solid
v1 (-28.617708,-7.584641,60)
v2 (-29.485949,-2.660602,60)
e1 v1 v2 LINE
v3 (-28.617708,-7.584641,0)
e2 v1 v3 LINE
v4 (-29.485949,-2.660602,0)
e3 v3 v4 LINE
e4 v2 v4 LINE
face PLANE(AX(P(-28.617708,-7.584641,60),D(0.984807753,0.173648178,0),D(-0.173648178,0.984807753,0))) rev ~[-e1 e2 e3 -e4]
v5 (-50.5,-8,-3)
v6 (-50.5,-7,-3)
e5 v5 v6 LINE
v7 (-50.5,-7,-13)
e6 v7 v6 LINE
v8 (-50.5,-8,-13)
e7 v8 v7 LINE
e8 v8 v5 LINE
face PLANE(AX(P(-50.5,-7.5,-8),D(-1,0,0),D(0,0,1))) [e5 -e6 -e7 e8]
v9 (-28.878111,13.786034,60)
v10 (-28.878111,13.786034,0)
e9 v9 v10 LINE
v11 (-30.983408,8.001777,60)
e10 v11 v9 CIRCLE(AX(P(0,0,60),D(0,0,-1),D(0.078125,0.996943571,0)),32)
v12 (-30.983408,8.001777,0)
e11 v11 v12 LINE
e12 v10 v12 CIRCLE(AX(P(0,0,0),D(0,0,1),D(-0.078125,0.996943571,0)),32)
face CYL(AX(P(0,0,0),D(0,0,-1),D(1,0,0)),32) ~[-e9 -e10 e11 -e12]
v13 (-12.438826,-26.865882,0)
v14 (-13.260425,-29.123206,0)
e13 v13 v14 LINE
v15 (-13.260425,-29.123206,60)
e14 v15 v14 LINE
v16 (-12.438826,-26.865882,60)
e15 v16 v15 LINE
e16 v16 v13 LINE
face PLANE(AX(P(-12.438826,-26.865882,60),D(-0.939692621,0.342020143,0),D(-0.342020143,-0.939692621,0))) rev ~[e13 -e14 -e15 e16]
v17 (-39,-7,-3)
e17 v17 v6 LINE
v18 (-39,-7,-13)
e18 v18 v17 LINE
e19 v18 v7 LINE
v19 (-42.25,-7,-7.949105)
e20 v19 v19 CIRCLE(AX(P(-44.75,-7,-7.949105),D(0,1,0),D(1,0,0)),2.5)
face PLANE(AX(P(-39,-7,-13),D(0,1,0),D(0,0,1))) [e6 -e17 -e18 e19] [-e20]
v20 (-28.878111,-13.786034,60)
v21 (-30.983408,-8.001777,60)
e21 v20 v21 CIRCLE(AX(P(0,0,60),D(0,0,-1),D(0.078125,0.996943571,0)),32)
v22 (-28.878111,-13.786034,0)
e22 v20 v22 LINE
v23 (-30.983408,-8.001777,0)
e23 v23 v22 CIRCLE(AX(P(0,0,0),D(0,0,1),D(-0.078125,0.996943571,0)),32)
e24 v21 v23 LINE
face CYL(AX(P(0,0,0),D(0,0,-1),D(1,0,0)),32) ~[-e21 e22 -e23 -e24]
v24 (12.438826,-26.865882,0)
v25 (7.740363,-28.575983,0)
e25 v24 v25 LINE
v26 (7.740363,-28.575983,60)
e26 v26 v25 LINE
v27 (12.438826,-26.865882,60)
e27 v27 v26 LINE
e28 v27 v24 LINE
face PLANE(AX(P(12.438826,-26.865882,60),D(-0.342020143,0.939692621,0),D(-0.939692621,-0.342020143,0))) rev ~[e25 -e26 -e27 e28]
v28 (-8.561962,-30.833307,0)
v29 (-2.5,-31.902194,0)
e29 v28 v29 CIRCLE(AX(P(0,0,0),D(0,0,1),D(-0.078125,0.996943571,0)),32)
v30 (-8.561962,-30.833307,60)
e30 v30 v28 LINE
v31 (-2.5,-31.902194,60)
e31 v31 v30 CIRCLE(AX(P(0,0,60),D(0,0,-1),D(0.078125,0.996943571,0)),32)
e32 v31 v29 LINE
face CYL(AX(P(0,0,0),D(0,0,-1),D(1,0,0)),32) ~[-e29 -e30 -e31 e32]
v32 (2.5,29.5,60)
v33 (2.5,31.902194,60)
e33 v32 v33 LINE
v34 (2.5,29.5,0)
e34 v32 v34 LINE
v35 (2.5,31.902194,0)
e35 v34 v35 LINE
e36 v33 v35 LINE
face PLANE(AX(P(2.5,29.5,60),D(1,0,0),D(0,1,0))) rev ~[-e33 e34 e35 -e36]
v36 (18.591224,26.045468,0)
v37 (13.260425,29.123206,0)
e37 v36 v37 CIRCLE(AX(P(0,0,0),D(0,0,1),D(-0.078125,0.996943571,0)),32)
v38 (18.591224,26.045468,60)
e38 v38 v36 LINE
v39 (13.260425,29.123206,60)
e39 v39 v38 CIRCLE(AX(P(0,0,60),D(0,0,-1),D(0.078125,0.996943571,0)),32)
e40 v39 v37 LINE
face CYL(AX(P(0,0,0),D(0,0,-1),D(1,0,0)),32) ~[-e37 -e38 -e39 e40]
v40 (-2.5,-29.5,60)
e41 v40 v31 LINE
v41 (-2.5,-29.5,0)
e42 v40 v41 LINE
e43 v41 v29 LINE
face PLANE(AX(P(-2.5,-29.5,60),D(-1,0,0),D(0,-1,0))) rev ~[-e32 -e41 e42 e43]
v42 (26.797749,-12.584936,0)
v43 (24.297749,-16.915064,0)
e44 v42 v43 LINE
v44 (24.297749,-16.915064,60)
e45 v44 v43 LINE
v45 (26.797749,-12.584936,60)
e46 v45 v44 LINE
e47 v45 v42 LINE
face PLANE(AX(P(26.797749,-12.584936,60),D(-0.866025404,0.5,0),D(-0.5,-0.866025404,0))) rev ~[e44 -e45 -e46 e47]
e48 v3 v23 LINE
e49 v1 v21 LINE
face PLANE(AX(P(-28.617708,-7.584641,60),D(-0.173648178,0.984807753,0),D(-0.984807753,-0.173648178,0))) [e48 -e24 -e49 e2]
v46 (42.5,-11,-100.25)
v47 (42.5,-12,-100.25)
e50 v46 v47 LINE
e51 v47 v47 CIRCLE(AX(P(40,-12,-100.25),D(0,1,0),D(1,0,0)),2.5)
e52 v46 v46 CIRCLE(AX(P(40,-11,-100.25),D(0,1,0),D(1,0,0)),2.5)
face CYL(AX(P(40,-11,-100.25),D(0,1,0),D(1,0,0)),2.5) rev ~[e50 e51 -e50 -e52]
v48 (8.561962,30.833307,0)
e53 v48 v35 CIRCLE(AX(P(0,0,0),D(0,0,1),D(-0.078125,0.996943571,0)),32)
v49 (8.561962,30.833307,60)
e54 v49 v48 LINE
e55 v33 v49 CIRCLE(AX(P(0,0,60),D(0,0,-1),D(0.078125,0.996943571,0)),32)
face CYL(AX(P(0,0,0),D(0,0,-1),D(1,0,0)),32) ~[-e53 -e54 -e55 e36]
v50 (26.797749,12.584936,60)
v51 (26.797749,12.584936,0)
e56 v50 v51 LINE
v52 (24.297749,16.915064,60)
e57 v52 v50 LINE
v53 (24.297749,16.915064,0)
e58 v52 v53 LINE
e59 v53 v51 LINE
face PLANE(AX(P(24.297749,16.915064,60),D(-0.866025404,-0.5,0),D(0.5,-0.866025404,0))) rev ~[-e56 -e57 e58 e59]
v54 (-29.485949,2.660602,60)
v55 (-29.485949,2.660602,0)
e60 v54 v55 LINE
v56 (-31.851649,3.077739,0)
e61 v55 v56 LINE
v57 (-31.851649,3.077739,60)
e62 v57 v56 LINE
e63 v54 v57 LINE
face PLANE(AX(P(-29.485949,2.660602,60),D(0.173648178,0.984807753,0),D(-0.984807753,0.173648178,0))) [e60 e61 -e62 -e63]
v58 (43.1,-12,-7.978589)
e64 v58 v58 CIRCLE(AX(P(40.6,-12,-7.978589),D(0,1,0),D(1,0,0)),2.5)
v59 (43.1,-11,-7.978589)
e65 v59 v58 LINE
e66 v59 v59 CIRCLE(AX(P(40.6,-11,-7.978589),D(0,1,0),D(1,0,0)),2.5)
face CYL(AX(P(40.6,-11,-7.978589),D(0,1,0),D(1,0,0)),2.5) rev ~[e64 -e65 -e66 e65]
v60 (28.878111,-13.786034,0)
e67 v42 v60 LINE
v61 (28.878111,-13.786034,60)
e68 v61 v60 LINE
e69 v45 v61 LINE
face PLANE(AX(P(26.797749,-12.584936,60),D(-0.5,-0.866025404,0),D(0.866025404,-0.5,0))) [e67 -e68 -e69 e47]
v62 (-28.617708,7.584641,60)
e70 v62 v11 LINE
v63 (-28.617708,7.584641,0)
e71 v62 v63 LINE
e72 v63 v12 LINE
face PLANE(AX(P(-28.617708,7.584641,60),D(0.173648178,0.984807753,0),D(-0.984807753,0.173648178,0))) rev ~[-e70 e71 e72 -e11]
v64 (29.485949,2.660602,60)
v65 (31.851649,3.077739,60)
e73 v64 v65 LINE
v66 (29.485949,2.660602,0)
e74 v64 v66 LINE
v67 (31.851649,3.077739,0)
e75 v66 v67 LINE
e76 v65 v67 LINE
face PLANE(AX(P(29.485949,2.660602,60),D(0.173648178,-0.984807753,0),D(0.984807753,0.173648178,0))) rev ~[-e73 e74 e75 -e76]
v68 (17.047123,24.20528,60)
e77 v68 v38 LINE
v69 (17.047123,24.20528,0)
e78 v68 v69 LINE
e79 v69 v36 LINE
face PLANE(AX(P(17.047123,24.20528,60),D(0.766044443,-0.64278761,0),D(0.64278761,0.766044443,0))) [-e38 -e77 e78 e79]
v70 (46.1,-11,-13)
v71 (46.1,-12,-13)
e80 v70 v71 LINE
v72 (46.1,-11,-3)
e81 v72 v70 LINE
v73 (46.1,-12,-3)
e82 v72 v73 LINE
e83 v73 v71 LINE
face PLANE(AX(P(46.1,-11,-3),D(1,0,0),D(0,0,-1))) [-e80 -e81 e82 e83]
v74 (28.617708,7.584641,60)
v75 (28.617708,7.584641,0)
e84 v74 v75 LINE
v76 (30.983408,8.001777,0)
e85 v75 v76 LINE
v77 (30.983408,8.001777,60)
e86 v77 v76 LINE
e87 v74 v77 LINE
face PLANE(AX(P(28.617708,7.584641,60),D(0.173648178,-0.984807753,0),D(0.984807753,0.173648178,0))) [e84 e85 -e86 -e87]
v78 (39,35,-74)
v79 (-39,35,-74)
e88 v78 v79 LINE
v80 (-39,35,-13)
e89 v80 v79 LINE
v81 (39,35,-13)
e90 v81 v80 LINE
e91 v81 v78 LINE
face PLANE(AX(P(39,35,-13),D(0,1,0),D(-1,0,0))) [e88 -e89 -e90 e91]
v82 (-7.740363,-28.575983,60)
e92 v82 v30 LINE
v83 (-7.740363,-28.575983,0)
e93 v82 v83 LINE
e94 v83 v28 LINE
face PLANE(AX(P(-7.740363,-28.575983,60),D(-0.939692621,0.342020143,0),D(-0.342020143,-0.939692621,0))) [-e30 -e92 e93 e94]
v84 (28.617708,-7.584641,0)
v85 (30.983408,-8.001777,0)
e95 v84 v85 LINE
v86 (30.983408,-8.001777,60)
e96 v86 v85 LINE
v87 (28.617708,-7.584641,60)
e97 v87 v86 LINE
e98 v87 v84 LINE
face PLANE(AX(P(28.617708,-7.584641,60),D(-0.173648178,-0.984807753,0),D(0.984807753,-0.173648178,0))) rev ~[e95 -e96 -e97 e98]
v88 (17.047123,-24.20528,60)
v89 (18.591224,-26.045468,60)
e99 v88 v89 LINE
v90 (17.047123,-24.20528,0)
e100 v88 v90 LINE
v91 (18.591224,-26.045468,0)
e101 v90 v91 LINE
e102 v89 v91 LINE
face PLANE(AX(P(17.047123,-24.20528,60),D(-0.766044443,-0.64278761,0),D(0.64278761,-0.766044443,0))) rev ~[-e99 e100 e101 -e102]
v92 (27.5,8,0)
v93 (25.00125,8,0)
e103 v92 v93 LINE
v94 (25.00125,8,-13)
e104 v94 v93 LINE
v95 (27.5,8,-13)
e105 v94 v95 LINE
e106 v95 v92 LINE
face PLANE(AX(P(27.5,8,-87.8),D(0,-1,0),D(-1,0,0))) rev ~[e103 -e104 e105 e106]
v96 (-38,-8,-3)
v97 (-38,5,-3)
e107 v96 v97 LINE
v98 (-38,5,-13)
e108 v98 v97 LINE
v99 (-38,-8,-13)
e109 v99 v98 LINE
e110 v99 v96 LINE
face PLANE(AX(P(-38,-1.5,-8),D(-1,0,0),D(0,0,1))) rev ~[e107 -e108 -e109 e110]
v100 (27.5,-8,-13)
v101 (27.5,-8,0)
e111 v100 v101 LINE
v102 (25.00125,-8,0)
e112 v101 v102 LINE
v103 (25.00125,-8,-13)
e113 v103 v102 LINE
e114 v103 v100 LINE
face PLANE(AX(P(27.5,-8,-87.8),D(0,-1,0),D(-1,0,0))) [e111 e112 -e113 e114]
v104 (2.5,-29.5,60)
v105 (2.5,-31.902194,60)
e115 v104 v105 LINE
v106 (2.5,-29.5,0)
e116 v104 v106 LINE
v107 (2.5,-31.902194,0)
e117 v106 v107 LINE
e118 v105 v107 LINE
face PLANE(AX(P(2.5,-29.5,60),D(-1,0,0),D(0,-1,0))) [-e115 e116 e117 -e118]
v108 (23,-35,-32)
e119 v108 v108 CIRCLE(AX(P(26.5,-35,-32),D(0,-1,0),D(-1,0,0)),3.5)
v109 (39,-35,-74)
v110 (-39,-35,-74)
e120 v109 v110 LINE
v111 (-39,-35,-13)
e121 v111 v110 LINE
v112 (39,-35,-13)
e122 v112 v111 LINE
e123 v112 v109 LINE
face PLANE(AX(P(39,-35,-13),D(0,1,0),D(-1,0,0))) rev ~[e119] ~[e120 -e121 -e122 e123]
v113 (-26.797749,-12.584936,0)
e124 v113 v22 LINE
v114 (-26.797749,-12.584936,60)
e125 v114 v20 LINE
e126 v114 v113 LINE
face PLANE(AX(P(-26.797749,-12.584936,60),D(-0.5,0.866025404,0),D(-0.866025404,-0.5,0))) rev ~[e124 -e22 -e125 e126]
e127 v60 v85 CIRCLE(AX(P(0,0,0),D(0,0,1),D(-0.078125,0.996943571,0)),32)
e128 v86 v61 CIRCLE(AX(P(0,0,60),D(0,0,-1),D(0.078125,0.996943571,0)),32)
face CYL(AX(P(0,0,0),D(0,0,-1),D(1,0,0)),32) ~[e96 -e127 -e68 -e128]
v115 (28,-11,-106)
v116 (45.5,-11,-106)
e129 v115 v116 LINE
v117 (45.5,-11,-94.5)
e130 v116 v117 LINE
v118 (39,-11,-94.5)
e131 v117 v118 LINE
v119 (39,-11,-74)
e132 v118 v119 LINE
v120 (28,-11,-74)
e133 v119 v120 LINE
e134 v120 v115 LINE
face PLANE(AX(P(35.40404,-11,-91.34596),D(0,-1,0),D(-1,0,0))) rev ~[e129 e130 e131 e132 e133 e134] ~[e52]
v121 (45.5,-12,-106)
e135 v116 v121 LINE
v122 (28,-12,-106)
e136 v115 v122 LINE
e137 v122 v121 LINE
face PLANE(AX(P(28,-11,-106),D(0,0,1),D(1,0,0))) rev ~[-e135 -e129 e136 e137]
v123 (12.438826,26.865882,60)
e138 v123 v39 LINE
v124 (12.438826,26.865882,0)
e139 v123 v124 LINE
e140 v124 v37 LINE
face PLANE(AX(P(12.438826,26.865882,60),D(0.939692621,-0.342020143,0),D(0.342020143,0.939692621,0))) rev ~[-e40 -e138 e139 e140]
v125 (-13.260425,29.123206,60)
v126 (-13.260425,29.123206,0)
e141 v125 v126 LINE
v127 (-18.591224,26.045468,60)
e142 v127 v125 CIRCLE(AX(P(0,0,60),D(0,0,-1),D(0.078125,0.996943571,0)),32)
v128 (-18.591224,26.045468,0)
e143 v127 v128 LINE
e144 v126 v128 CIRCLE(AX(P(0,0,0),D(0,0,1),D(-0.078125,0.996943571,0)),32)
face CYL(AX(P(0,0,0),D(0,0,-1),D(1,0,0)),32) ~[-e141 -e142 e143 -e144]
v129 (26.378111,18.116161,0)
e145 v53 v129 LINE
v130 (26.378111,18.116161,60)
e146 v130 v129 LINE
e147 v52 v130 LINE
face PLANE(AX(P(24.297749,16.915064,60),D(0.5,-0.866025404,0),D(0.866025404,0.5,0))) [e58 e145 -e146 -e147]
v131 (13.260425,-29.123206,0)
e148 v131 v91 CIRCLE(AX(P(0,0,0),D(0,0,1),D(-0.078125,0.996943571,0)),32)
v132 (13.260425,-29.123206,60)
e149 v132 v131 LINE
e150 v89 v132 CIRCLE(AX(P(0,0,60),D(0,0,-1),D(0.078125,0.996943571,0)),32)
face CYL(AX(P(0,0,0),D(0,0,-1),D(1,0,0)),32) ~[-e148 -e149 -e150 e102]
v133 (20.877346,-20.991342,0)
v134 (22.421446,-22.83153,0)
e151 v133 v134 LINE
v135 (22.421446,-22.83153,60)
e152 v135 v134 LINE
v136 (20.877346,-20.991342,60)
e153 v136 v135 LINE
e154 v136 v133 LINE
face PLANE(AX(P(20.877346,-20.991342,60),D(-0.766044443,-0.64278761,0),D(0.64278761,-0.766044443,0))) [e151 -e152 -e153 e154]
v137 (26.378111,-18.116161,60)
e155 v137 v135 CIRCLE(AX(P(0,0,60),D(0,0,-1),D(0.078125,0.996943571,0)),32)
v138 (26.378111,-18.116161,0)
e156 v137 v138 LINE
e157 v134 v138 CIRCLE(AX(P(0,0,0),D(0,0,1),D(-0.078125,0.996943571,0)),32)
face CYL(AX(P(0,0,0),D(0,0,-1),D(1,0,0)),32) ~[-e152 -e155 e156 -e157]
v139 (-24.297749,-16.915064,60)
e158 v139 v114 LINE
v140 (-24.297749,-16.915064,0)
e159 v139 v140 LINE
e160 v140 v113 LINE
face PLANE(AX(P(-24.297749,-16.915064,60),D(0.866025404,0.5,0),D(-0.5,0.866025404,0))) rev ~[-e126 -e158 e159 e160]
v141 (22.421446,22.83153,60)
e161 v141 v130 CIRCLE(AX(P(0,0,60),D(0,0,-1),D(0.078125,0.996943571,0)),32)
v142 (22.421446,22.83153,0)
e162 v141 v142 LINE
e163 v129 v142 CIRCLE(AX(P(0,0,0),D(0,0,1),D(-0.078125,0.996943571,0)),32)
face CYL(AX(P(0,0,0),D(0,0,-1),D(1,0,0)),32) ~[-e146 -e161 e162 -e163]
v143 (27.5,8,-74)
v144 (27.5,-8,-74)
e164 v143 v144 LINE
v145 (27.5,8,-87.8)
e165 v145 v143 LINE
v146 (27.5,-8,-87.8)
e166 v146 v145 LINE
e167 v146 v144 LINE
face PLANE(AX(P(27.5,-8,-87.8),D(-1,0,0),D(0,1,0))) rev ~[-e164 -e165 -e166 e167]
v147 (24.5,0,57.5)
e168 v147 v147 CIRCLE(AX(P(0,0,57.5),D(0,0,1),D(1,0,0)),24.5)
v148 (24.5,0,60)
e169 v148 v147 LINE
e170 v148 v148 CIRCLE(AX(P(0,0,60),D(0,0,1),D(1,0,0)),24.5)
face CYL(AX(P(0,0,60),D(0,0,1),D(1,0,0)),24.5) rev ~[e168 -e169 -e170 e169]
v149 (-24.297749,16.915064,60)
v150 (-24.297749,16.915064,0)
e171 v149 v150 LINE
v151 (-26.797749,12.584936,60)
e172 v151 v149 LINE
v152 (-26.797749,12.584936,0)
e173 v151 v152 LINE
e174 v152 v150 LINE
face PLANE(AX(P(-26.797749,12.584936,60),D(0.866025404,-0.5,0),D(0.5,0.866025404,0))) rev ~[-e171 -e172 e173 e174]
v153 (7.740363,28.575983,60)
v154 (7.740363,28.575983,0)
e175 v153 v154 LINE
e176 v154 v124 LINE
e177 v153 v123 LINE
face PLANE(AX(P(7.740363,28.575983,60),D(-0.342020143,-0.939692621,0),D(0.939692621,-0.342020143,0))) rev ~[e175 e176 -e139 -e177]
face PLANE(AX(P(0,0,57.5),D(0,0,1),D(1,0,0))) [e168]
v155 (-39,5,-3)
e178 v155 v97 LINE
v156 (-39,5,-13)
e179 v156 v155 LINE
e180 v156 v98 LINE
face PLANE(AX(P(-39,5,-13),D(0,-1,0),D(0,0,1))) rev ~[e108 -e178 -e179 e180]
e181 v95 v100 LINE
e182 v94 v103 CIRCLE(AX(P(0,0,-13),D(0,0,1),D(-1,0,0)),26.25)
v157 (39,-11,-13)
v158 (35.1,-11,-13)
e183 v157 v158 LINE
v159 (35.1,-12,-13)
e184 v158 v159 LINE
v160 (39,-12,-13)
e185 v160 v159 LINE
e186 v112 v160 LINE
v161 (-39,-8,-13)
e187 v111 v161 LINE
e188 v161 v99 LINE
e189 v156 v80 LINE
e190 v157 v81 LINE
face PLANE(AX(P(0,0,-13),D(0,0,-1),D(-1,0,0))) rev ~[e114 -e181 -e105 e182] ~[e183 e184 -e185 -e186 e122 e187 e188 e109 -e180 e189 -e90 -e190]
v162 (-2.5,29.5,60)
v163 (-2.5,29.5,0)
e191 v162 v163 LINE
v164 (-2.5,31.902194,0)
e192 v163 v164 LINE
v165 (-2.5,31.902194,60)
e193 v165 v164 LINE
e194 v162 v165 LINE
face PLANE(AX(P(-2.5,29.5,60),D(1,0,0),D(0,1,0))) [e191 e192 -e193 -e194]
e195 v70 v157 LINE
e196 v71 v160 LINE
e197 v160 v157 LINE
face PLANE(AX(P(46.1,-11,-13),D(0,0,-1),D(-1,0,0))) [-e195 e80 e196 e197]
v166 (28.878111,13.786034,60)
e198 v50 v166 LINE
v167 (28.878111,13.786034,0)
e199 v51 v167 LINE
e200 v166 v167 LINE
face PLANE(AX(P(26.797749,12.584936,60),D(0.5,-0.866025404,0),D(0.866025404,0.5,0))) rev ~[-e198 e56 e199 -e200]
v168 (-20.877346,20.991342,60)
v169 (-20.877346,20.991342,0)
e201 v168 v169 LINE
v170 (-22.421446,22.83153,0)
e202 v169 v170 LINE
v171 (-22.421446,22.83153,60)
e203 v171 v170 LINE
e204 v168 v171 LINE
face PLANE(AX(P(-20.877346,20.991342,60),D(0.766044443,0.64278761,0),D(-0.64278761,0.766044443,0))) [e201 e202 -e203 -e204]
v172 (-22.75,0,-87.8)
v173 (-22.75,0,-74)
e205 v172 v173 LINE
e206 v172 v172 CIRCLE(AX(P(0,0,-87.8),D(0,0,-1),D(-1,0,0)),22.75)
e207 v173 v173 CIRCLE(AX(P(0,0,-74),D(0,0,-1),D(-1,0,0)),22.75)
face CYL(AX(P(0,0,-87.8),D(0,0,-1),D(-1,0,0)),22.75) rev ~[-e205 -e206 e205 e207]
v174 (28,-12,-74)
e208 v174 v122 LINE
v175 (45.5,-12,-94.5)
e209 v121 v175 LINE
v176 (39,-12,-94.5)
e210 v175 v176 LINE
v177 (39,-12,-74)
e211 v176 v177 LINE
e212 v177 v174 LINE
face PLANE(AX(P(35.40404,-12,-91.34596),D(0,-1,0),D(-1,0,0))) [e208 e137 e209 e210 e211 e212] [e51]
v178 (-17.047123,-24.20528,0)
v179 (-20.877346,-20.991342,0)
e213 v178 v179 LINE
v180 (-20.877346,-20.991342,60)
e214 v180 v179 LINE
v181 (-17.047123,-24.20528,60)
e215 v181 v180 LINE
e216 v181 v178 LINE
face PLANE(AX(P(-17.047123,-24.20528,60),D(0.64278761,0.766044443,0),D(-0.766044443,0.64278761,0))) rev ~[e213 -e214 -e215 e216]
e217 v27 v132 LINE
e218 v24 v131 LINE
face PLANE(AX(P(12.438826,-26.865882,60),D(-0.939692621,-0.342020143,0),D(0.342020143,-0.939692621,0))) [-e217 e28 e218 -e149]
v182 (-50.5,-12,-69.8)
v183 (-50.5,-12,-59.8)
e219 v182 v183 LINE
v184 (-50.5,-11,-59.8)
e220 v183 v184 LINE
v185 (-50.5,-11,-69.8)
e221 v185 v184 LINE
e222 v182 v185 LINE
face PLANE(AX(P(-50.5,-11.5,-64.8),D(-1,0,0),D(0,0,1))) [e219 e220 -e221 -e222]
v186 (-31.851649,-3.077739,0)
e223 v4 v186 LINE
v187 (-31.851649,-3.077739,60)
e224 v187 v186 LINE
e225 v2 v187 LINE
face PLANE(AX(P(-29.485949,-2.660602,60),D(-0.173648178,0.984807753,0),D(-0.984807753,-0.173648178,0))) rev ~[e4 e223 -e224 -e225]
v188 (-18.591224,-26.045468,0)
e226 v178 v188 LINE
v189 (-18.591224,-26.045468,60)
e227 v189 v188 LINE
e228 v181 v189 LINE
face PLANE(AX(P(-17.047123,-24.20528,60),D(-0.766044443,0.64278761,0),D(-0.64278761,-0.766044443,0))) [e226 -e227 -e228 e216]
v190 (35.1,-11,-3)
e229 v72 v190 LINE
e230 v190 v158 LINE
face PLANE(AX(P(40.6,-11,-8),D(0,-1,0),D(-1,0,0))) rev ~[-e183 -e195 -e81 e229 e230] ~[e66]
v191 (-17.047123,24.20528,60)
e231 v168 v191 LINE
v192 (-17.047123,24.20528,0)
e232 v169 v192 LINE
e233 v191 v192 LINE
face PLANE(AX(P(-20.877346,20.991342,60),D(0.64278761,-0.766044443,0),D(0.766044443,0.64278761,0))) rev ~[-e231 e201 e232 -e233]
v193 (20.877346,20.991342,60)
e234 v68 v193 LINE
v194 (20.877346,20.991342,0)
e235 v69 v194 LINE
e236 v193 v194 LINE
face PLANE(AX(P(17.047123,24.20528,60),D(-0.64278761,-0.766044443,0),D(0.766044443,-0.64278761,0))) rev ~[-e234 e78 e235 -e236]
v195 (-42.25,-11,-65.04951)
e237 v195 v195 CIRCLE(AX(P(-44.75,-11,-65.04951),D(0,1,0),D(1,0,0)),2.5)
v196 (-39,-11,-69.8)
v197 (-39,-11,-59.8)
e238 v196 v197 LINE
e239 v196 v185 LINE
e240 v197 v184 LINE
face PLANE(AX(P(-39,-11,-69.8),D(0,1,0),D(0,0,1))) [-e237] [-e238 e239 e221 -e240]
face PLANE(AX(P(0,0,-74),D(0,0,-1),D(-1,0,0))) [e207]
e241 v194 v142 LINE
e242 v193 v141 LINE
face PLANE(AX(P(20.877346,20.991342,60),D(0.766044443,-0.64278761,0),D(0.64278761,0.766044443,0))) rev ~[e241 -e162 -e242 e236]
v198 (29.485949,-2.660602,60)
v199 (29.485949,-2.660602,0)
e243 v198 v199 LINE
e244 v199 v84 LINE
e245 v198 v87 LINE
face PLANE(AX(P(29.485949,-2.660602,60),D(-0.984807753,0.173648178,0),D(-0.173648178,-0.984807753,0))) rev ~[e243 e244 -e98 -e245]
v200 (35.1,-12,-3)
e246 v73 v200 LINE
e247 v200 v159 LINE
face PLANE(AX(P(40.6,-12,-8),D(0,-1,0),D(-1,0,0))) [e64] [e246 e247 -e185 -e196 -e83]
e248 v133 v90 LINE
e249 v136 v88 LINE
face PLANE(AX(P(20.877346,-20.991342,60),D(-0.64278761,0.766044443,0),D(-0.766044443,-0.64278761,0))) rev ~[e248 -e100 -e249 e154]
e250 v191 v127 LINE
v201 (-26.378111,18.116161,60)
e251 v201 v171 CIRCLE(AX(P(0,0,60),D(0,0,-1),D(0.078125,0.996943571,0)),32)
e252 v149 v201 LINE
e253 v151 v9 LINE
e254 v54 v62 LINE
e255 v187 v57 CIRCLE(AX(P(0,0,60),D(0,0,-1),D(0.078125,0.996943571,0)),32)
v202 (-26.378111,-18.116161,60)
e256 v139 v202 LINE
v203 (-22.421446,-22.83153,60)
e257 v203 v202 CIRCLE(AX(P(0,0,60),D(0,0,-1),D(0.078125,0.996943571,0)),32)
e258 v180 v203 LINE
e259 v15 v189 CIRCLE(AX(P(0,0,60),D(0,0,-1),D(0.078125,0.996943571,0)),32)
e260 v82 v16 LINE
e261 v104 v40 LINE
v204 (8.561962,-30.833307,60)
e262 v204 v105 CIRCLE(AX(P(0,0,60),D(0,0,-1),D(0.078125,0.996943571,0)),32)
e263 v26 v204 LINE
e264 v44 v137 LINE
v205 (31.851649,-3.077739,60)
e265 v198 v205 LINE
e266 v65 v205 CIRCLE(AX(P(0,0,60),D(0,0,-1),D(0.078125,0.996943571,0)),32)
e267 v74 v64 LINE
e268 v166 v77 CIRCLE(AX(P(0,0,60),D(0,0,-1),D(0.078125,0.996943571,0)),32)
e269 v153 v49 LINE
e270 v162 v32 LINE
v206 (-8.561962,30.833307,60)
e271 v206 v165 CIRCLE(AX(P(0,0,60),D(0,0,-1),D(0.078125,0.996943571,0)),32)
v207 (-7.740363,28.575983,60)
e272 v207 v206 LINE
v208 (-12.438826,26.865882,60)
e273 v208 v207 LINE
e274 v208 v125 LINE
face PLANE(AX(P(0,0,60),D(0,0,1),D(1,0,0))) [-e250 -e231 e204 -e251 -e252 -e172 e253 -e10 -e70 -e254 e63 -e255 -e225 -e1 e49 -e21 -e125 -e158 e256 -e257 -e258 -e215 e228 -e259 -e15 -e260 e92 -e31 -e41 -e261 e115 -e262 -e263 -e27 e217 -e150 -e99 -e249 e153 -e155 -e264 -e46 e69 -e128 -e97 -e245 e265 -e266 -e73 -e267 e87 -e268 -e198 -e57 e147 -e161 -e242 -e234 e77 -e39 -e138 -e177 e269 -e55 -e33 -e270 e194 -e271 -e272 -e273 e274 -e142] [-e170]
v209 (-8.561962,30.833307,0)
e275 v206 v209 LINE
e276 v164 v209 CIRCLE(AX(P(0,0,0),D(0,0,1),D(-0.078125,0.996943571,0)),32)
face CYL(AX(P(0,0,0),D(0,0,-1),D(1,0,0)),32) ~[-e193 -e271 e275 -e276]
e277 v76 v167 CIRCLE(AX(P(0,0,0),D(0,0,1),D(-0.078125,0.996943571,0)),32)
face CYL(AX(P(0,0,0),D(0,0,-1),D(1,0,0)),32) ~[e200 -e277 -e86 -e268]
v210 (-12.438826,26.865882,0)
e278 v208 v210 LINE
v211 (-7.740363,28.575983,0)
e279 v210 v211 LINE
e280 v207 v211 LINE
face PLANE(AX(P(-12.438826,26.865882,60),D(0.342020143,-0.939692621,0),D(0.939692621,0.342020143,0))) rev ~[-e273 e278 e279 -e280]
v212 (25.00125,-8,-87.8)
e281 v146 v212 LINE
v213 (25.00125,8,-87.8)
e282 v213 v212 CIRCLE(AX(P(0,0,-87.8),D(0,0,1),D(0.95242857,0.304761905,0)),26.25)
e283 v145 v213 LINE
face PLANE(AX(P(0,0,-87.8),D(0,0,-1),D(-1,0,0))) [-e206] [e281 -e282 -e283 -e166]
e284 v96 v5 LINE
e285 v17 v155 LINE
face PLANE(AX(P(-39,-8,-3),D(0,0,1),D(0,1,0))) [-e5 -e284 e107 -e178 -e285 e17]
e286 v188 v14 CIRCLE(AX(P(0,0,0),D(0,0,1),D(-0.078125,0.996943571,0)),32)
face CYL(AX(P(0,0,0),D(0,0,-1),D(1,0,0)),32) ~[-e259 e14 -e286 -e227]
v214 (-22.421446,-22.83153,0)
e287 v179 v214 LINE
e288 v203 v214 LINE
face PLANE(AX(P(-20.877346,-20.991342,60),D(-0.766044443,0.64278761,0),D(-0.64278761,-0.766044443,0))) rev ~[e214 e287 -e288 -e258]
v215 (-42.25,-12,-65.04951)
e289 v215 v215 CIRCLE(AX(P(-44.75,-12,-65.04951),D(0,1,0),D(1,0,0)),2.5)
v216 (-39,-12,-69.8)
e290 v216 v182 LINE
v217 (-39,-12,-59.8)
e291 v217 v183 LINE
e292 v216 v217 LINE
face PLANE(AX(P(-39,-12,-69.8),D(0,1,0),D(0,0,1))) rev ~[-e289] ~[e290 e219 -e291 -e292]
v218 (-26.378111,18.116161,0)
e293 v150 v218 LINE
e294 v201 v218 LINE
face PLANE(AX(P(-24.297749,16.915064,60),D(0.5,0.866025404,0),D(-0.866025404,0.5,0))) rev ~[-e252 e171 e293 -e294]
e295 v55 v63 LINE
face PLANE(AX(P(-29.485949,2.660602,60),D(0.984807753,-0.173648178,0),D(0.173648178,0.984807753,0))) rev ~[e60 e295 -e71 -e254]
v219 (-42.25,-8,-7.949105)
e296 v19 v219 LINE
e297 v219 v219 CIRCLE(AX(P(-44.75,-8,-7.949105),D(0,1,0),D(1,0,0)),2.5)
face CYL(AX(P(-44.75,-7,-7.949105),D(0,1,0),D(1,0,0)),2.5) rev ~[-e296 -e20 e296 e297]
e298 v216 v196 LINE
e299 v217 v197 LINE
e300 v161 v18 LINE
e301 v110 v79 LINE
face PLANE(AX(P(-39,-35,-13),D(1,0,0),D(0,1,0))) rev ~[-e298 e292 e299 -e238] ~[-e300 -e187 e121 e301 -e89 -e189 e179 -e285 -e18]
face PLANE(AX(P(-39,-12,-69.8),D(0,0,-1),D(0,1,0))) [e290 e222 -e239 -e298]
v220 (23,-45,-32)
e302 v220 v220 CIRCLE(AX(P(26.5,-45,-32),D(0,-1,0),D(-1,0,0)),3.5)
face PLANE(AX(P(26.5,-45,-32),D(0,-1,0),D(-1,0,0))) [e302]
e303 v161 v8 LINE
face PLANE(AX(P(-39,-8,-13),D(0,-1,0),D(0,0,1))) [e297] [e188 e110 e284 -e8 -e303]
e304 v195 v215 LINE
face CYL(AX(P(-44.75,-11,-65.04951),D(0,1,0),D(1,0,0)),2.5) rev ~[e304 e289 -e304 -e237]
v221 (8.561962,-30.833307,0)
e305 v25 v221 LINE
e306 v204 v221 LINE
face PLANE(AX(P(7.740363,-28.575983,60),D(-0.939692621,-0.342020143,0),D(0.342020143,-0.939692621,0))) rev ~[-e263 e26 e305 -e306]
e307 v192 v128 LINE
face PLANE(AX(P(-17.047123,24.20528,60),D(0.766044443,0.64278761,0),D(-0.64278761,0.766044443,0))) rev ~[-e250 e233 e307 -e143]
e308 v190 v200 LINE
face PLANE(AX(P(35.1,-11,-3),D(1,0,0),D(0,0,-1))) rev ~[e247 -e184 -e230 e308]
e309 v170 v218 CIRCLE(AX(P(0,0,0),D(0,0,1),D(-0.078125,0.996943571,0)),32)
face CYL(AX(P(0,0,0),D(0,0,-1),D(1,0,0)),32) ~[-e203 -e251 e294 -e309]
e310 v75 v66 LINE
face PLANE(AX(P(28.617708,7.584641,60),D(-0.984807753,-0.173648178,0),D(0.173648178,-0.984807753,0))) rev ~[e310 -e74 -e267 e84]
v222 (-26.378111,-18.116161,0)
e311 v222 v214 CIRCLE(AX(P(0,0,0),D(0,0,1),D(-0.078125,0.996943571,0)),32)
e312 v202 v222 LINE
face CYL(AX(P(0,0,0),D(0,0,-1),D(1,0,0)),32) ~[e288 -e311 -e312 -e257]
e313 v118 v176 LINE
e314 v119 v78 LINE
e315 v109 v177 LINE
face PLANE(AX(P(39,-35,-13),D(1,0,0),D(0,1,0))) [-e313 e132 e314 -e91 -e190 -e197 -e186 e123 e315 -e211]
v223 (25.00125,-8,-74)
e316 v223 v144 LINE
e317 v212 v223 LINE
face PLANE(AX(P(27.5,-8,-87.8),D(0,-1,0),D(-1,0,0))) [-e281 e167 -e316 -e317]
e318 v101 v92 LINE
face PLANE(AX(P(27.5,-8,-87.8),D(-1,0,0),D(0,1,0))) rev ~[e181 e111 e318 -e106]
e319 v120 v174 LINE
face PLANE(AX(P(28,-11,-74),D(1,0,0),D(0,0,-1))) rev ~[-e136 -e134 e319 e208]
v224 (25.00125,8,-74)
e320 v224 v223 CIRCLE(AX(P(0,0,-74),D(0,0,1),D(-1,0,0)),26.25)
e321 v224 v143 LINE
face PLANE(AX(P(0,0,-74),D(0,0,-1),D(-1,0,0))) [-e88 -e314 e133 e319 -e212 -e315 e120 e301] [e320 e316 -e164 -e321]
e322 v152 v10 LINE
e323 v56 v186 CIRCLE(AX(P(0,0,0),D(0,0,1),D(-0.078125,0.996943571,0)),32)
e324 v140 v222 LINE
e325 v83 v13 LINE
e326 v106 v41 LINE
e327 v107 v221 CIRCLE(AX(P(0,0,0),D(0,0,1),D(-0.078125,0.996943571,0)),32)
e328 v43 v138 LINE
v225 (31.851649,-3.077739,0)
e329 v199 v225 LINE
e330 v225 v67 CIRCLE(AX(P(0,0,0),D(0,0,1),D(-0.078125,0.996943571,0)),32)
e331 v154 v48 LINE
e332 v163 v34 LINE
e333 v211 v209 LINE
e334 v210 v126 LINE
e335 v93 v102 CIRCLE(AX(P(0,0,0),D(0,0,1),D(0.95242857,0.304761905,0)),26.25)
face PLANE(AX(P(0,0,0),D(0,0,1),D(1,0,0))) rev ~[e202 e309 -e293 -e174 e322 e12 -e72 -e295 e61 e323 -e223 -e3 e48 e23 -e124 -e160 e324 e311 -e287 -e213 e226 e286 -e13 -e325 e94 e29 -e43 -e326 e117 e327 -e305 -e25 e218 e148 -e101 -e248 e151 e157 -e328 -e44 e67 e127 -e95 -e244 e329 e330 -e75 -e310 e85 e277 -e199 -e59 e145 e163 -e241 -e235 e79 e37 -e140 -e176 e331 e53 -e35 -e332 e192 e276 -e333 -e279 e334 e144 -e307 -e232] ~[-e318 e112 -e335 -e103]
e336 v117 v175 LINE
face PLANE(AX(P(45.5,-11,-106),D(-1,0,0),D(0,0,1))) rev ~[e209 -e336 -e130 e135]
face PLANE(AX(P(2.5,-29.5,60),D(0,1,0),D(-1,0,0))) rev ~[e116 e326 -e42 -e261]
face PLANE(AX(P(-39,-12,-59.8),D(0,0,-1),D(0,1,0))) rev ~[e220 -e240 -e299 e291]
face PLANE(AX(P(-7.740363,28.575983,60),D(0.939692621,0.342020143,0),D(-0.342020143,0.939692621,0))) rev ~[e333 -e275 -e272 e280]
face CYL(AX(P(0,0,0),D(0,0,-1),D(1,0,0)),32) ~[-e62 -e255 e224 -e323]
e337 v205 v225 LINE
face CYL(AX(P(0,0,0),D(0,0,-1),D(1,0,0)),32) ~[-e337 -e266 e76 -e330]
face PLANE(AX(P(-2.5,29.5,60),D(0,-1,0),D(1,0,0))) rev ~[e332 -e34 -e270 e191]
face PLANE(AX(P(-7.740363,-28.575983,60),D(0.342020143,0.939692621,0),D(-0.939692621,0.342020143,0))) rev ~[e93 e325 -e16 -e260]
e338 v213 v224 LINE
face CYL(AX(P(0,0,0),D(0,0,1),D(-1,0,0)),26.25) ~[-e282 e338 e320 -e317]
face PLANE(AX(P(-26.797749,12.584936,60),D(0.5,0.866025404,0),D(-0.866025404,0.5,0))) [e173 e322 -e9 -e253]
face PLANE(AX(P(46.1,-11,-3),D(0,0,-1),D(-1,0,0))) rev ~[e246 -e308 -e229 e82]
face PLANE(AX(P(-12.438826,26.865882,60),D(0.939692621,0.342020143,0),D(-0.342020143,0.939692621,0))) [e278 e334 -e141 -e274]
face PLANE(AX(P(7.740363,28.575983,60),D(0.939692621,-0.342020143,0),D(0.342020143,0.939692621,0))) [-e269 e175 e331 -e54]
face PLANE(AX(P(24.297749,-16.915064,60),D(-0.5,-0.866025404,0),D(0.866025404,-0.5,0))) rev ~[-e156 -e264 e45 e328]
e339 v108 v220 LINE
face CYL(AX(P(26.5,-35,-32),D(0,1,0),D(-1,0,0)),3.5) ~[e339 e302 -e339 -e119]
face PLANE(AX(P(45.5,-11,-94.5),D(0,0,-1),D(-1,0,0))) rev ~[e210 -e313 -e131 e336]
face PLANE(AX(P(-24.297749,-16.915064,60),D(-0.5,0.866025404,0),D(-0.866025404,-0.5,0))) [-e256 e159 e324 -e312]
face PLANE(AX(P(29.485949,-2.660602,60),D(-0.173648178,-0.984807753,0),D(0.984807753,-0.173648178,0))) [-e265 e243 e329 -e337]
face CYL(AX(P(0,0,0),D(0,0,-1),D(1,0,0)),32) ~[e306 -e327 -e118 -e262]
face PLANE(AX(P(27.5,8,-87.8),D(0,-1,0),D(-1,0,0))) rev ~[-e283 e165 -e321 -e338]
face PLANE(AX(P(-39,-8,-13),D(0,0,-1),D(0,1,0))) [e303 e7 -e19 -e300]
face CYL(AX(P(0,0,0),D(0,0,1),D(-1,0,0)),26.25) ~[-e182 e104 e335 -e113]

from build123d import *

# Parameters (mm, degrees)
CROQUIS1_R              = 32
SALIENTE_EXTRUIR1_DEPTH = 60
CROQUIS2_R              = 24.5
CORTAR_EXTRUIR1_DEPTH   = 2.5
CROQUIS3_W              = 5
CROQUIS3_H              = 5
CORTAR_EXTRUIR2_DEPTH   = 61
MATRIZC1_COUNT          = 18
CROQUIS4_R              = 26.25
SALIENTE_EXTRUIR2_DEPTH = 87.8
CROQUIS5_R              = 22.75
CORTAR_EXTRUIR3_DEPTH   = 37
SALIENTE_EXTRUIR3_REACH = 149.8
CROQUIS6_W              = 2.5
CROQUIS6_H              = 16
CROQUIS7_W              = 78
CROQUIS7_H              = 70
SALIENTE_EXTRUIR4_DEPTH = 61
CROQUIS8_W              = 10
CROQUIS8_H              = 1
SALIENTE_EXTRUIR5_DEPTH = 11.5
CROQUIS9_W              = 10
CROQUIS9_H              = 13
SALIENTE_EXTRUIR6_DEPTH = 1
CROQUIS10_W             = 11
CROQUIS10_H             = 10
SALIENTE_EXTRUIR7_DEPTH = 1
SALIENTE_EXTRUIR8_DEPTH = 1
CROQUIS12_R             = 2.5
CORTAR_EXTRUIR4_DEPTH   = 29
CROQUIS13_R             = 2.5
CORTAR_EXTRUIR5_DEPTH   = 1
CROQUIS14_R             = 2.5
CORTAR_EXTRUIR6_DEPTH   = 1
CROQUIS15_R             = 2.5
CORTAR_EXTRUIR7_DEPTH   = 1
CROQUIS16_R             = 3.5
SALIENTE_EXTRUIR9_DEPTH = 10


with BuildPart() as part:
    # Croquis1 → Saliente-Extruir1 (new body)
    with BuildSketch(Plane.XY):
        Circle(CROQUIS1_R)
    extrude(amount=SALIENTE_EXTRUIR1_DEPTH)

    # Croquis2 → Cortar-Extruir1 (cut)
    with BuildSketch(Plane.XY.offset(60)):
        Circle(CROQUIS2_R)
    extrude(amount=-CORTAR_EXTRUIR1_DEPTH, mode=Mode.SUBTRACT)

    # Croquis3 → Cortar-Extruir2 (cut, through all)
    with BuildSketch(Plane.XY.offset(60)):
        with Locations((0, 32)):
            Rectangle(CROQUIS3_W, CROQUIS3_H)
    cortar_extruir2 = extrude(amount=-CORTAR_EXTRUIR2_DEPTH, mode=Mode.SUBTRACT)

    # MatrizC1: Cortar-Extruir2 ×18 about axis
    matrizc1_axis = Axis((0, 0, 0), (0, 0, 1))
    for i in range(1, MATRIZC1_COUNT):
        add(cortar_extruir2.rotate(matrizc1_axis, i * 360 / MATRIZC1_COUNT), mode=Mode.SUBTRACT)

    # Croquis4 → Saliente-Extruir2 (add)
    with BuildSketch(Plane(origin=(0, 0, 0), x_dir=(-1, 0, 0), z_dir=(0, 0, -1))):
        Circle(CROQUIS4_R)
    extrude(amount=SALIENTE_EXTRUIR2_DEPTH)

    # Croquis5 → Cortar-Extruir3 (cut)
    with BuildSketch(Plane(origin=(0, 0, -87.8), x_dir=(-1, 0, 0), z_dir=(0, 0, -1))):
        Circle(CROQUIS5_R)
    extrude(amount=-CORTAR_EXTRUIR3_DEPTH, mode=Mode.SUBTRACT)

    # Croquis6 → Saliente-Extruir3 (add, up to next)
    with BuildSketch(Plane(origin=(0, 0, -87.8), x_dir=(-1, 0, 0), z_dir=(0, 0, -1)), mode=Mode.PRIVATE) as saliente_extruir3_sk1:
        with Locations((-26.25, 0)):
            Rectangle(CROQUIS6_W, CROQUIS6_H)
    saliente_extruir3_tool1 = extrude(saliente_extruir3_sk1.sketch, amount=-SALIENTE_EXTRUIR3_REACH, mode=Mode.PRIVATE) - part.part
    add(saliente_extruir3_tool1.solids().sort_by_distance((26.25, 0, -87.8))[0])

    # Croquis7 → Saliente-Extruir4 (add)
    with BuildSketch(Plane(origin=(0, 0, -13), x_dir=(-1, 0, 0), z_dir=(0, 0, -1))):
        Rectangle(CROQUIS7_W, CROQUIS7_H)
    extrude(amount=SALIENTE_EXTRUIR4_DEPTH)

    # Croquis8 → Saliente-Extruir5 (add)
    with BuildSketch(Plane.ZY.offset(39)):
        with Locations((-64.8, -11.5)):
            Rectangle(CROQUIS8_W, CROQUIS8_H)
        with Locations((-8, -7.5)):
            Rectangle(CROQUIS8_W, CROQUIS8_H)
    extrude(amount=SALIENTE_EXTRUIR5_DEPTH)

    # Croquis9 → Saliente-Extruir6 (add)
    with BuildSketch(Plane.ZY.offset(39)):
        with Locations((-8, -1.5)):
            Rectangle(CROQUIS9_W, CROQUIS9_H)
    extrude(amount=-SALIENTE_EXTRUIR6_DEPTH)

    # Croquis10 → Saliente-Extruir7 (add)
    with BuildSketch(Plane(origin=(0, -11, 0), x_dir=(-1, 0, 0), z_dir=(0, -1, 0))):
        with Locations((-40.6, 8)):
            Rectangle(CROQUIS10_W, CROQUIS10_H)
    extrude(amount=SALIENTE_EXTRUIR7_DEPTH)

    # Croquis11 → Saliente-Extruir8 (add)
    with BuildSketch(Plane(origin=(0, -11, 0), x_dir=(-1, 0, 0), z_dir=(0, -1, 0))):
        Polygon((-39, 74), (-28, 74), (-28, 106), (-45.5, 106), (-45.5, 94.5), (-39, 94.5), align=None)
    extrude(amount=SALIENTE_EXTRUIR8_DEPTH)

    # Croquis12 → Cortar-Extruir4 (cut, through all)
    with BuildSketch(Plane(origin=(0, -7, 0), x_dir=(1, 0, 0), z_dir=(0, 1, 0))):
        with Locations((-44.75, 7.949105166)):
            Circle(CROQUIS12_R)
    extrude(amount=-CORTAR_EXTRUIR4_DEPTH, mode=Mode.SUBTRACT)

    # Croquis13 → Cortar-Extruir5 (cut)
    with BuildSketch(Plane(origin=(0, -11, 0), x_dir=(1, 0, 0), z_dir=(0, 1, 0))):
        with Locations((40.6, 7.978589127)):
            Circle(CROQUIS13_R)
    extrude(amount=-CORTAR_EXTRUIR5_DEPTH, mode=Mode.SUBTRACT)

    # Croquis14 → Cortar-Extruir6 (cut)
    with BuildSketch(Plane(origin=(0, -11, 0), x_dir=(1, 0, 0), z_dir=(0, 1, 0))):
        with Locations((-44.75, 65.049509944)):
            Circle(CROQUIS14_R)
    extrude(amount=-CORTAR_EXTRUIR6_DEPTH, mode=Mode.SUBTRACT)

    # Croquis15 → Cortar-Extruir7 (cut)
    with BuildSketch(Plane(origin=(0, -11, 0), x_dir=(1, 0, 0), z_dir=(0, 1, 0))):
        with Locations((40, 100.25)):
            Circle(CROQUIS15_R)
    extrude(amount=-CORTAR_EXTRUIR7_DEPTH, mode=Mode.SUBTRACT)

    # Croquis16 → Saliente-Extruir9 (add)
    with BuildSketch(Plane(origin=(0, -35, 0), x_dir=(-1, 0, 0), z_dir=(0, -1, 0))):
        with Locations((-26.5, 32)):
            Circle(CROQUIS16_R)
    extrude(amount=SALIENTE_EXTRUIR9_DEPTH)


solid = part.part
